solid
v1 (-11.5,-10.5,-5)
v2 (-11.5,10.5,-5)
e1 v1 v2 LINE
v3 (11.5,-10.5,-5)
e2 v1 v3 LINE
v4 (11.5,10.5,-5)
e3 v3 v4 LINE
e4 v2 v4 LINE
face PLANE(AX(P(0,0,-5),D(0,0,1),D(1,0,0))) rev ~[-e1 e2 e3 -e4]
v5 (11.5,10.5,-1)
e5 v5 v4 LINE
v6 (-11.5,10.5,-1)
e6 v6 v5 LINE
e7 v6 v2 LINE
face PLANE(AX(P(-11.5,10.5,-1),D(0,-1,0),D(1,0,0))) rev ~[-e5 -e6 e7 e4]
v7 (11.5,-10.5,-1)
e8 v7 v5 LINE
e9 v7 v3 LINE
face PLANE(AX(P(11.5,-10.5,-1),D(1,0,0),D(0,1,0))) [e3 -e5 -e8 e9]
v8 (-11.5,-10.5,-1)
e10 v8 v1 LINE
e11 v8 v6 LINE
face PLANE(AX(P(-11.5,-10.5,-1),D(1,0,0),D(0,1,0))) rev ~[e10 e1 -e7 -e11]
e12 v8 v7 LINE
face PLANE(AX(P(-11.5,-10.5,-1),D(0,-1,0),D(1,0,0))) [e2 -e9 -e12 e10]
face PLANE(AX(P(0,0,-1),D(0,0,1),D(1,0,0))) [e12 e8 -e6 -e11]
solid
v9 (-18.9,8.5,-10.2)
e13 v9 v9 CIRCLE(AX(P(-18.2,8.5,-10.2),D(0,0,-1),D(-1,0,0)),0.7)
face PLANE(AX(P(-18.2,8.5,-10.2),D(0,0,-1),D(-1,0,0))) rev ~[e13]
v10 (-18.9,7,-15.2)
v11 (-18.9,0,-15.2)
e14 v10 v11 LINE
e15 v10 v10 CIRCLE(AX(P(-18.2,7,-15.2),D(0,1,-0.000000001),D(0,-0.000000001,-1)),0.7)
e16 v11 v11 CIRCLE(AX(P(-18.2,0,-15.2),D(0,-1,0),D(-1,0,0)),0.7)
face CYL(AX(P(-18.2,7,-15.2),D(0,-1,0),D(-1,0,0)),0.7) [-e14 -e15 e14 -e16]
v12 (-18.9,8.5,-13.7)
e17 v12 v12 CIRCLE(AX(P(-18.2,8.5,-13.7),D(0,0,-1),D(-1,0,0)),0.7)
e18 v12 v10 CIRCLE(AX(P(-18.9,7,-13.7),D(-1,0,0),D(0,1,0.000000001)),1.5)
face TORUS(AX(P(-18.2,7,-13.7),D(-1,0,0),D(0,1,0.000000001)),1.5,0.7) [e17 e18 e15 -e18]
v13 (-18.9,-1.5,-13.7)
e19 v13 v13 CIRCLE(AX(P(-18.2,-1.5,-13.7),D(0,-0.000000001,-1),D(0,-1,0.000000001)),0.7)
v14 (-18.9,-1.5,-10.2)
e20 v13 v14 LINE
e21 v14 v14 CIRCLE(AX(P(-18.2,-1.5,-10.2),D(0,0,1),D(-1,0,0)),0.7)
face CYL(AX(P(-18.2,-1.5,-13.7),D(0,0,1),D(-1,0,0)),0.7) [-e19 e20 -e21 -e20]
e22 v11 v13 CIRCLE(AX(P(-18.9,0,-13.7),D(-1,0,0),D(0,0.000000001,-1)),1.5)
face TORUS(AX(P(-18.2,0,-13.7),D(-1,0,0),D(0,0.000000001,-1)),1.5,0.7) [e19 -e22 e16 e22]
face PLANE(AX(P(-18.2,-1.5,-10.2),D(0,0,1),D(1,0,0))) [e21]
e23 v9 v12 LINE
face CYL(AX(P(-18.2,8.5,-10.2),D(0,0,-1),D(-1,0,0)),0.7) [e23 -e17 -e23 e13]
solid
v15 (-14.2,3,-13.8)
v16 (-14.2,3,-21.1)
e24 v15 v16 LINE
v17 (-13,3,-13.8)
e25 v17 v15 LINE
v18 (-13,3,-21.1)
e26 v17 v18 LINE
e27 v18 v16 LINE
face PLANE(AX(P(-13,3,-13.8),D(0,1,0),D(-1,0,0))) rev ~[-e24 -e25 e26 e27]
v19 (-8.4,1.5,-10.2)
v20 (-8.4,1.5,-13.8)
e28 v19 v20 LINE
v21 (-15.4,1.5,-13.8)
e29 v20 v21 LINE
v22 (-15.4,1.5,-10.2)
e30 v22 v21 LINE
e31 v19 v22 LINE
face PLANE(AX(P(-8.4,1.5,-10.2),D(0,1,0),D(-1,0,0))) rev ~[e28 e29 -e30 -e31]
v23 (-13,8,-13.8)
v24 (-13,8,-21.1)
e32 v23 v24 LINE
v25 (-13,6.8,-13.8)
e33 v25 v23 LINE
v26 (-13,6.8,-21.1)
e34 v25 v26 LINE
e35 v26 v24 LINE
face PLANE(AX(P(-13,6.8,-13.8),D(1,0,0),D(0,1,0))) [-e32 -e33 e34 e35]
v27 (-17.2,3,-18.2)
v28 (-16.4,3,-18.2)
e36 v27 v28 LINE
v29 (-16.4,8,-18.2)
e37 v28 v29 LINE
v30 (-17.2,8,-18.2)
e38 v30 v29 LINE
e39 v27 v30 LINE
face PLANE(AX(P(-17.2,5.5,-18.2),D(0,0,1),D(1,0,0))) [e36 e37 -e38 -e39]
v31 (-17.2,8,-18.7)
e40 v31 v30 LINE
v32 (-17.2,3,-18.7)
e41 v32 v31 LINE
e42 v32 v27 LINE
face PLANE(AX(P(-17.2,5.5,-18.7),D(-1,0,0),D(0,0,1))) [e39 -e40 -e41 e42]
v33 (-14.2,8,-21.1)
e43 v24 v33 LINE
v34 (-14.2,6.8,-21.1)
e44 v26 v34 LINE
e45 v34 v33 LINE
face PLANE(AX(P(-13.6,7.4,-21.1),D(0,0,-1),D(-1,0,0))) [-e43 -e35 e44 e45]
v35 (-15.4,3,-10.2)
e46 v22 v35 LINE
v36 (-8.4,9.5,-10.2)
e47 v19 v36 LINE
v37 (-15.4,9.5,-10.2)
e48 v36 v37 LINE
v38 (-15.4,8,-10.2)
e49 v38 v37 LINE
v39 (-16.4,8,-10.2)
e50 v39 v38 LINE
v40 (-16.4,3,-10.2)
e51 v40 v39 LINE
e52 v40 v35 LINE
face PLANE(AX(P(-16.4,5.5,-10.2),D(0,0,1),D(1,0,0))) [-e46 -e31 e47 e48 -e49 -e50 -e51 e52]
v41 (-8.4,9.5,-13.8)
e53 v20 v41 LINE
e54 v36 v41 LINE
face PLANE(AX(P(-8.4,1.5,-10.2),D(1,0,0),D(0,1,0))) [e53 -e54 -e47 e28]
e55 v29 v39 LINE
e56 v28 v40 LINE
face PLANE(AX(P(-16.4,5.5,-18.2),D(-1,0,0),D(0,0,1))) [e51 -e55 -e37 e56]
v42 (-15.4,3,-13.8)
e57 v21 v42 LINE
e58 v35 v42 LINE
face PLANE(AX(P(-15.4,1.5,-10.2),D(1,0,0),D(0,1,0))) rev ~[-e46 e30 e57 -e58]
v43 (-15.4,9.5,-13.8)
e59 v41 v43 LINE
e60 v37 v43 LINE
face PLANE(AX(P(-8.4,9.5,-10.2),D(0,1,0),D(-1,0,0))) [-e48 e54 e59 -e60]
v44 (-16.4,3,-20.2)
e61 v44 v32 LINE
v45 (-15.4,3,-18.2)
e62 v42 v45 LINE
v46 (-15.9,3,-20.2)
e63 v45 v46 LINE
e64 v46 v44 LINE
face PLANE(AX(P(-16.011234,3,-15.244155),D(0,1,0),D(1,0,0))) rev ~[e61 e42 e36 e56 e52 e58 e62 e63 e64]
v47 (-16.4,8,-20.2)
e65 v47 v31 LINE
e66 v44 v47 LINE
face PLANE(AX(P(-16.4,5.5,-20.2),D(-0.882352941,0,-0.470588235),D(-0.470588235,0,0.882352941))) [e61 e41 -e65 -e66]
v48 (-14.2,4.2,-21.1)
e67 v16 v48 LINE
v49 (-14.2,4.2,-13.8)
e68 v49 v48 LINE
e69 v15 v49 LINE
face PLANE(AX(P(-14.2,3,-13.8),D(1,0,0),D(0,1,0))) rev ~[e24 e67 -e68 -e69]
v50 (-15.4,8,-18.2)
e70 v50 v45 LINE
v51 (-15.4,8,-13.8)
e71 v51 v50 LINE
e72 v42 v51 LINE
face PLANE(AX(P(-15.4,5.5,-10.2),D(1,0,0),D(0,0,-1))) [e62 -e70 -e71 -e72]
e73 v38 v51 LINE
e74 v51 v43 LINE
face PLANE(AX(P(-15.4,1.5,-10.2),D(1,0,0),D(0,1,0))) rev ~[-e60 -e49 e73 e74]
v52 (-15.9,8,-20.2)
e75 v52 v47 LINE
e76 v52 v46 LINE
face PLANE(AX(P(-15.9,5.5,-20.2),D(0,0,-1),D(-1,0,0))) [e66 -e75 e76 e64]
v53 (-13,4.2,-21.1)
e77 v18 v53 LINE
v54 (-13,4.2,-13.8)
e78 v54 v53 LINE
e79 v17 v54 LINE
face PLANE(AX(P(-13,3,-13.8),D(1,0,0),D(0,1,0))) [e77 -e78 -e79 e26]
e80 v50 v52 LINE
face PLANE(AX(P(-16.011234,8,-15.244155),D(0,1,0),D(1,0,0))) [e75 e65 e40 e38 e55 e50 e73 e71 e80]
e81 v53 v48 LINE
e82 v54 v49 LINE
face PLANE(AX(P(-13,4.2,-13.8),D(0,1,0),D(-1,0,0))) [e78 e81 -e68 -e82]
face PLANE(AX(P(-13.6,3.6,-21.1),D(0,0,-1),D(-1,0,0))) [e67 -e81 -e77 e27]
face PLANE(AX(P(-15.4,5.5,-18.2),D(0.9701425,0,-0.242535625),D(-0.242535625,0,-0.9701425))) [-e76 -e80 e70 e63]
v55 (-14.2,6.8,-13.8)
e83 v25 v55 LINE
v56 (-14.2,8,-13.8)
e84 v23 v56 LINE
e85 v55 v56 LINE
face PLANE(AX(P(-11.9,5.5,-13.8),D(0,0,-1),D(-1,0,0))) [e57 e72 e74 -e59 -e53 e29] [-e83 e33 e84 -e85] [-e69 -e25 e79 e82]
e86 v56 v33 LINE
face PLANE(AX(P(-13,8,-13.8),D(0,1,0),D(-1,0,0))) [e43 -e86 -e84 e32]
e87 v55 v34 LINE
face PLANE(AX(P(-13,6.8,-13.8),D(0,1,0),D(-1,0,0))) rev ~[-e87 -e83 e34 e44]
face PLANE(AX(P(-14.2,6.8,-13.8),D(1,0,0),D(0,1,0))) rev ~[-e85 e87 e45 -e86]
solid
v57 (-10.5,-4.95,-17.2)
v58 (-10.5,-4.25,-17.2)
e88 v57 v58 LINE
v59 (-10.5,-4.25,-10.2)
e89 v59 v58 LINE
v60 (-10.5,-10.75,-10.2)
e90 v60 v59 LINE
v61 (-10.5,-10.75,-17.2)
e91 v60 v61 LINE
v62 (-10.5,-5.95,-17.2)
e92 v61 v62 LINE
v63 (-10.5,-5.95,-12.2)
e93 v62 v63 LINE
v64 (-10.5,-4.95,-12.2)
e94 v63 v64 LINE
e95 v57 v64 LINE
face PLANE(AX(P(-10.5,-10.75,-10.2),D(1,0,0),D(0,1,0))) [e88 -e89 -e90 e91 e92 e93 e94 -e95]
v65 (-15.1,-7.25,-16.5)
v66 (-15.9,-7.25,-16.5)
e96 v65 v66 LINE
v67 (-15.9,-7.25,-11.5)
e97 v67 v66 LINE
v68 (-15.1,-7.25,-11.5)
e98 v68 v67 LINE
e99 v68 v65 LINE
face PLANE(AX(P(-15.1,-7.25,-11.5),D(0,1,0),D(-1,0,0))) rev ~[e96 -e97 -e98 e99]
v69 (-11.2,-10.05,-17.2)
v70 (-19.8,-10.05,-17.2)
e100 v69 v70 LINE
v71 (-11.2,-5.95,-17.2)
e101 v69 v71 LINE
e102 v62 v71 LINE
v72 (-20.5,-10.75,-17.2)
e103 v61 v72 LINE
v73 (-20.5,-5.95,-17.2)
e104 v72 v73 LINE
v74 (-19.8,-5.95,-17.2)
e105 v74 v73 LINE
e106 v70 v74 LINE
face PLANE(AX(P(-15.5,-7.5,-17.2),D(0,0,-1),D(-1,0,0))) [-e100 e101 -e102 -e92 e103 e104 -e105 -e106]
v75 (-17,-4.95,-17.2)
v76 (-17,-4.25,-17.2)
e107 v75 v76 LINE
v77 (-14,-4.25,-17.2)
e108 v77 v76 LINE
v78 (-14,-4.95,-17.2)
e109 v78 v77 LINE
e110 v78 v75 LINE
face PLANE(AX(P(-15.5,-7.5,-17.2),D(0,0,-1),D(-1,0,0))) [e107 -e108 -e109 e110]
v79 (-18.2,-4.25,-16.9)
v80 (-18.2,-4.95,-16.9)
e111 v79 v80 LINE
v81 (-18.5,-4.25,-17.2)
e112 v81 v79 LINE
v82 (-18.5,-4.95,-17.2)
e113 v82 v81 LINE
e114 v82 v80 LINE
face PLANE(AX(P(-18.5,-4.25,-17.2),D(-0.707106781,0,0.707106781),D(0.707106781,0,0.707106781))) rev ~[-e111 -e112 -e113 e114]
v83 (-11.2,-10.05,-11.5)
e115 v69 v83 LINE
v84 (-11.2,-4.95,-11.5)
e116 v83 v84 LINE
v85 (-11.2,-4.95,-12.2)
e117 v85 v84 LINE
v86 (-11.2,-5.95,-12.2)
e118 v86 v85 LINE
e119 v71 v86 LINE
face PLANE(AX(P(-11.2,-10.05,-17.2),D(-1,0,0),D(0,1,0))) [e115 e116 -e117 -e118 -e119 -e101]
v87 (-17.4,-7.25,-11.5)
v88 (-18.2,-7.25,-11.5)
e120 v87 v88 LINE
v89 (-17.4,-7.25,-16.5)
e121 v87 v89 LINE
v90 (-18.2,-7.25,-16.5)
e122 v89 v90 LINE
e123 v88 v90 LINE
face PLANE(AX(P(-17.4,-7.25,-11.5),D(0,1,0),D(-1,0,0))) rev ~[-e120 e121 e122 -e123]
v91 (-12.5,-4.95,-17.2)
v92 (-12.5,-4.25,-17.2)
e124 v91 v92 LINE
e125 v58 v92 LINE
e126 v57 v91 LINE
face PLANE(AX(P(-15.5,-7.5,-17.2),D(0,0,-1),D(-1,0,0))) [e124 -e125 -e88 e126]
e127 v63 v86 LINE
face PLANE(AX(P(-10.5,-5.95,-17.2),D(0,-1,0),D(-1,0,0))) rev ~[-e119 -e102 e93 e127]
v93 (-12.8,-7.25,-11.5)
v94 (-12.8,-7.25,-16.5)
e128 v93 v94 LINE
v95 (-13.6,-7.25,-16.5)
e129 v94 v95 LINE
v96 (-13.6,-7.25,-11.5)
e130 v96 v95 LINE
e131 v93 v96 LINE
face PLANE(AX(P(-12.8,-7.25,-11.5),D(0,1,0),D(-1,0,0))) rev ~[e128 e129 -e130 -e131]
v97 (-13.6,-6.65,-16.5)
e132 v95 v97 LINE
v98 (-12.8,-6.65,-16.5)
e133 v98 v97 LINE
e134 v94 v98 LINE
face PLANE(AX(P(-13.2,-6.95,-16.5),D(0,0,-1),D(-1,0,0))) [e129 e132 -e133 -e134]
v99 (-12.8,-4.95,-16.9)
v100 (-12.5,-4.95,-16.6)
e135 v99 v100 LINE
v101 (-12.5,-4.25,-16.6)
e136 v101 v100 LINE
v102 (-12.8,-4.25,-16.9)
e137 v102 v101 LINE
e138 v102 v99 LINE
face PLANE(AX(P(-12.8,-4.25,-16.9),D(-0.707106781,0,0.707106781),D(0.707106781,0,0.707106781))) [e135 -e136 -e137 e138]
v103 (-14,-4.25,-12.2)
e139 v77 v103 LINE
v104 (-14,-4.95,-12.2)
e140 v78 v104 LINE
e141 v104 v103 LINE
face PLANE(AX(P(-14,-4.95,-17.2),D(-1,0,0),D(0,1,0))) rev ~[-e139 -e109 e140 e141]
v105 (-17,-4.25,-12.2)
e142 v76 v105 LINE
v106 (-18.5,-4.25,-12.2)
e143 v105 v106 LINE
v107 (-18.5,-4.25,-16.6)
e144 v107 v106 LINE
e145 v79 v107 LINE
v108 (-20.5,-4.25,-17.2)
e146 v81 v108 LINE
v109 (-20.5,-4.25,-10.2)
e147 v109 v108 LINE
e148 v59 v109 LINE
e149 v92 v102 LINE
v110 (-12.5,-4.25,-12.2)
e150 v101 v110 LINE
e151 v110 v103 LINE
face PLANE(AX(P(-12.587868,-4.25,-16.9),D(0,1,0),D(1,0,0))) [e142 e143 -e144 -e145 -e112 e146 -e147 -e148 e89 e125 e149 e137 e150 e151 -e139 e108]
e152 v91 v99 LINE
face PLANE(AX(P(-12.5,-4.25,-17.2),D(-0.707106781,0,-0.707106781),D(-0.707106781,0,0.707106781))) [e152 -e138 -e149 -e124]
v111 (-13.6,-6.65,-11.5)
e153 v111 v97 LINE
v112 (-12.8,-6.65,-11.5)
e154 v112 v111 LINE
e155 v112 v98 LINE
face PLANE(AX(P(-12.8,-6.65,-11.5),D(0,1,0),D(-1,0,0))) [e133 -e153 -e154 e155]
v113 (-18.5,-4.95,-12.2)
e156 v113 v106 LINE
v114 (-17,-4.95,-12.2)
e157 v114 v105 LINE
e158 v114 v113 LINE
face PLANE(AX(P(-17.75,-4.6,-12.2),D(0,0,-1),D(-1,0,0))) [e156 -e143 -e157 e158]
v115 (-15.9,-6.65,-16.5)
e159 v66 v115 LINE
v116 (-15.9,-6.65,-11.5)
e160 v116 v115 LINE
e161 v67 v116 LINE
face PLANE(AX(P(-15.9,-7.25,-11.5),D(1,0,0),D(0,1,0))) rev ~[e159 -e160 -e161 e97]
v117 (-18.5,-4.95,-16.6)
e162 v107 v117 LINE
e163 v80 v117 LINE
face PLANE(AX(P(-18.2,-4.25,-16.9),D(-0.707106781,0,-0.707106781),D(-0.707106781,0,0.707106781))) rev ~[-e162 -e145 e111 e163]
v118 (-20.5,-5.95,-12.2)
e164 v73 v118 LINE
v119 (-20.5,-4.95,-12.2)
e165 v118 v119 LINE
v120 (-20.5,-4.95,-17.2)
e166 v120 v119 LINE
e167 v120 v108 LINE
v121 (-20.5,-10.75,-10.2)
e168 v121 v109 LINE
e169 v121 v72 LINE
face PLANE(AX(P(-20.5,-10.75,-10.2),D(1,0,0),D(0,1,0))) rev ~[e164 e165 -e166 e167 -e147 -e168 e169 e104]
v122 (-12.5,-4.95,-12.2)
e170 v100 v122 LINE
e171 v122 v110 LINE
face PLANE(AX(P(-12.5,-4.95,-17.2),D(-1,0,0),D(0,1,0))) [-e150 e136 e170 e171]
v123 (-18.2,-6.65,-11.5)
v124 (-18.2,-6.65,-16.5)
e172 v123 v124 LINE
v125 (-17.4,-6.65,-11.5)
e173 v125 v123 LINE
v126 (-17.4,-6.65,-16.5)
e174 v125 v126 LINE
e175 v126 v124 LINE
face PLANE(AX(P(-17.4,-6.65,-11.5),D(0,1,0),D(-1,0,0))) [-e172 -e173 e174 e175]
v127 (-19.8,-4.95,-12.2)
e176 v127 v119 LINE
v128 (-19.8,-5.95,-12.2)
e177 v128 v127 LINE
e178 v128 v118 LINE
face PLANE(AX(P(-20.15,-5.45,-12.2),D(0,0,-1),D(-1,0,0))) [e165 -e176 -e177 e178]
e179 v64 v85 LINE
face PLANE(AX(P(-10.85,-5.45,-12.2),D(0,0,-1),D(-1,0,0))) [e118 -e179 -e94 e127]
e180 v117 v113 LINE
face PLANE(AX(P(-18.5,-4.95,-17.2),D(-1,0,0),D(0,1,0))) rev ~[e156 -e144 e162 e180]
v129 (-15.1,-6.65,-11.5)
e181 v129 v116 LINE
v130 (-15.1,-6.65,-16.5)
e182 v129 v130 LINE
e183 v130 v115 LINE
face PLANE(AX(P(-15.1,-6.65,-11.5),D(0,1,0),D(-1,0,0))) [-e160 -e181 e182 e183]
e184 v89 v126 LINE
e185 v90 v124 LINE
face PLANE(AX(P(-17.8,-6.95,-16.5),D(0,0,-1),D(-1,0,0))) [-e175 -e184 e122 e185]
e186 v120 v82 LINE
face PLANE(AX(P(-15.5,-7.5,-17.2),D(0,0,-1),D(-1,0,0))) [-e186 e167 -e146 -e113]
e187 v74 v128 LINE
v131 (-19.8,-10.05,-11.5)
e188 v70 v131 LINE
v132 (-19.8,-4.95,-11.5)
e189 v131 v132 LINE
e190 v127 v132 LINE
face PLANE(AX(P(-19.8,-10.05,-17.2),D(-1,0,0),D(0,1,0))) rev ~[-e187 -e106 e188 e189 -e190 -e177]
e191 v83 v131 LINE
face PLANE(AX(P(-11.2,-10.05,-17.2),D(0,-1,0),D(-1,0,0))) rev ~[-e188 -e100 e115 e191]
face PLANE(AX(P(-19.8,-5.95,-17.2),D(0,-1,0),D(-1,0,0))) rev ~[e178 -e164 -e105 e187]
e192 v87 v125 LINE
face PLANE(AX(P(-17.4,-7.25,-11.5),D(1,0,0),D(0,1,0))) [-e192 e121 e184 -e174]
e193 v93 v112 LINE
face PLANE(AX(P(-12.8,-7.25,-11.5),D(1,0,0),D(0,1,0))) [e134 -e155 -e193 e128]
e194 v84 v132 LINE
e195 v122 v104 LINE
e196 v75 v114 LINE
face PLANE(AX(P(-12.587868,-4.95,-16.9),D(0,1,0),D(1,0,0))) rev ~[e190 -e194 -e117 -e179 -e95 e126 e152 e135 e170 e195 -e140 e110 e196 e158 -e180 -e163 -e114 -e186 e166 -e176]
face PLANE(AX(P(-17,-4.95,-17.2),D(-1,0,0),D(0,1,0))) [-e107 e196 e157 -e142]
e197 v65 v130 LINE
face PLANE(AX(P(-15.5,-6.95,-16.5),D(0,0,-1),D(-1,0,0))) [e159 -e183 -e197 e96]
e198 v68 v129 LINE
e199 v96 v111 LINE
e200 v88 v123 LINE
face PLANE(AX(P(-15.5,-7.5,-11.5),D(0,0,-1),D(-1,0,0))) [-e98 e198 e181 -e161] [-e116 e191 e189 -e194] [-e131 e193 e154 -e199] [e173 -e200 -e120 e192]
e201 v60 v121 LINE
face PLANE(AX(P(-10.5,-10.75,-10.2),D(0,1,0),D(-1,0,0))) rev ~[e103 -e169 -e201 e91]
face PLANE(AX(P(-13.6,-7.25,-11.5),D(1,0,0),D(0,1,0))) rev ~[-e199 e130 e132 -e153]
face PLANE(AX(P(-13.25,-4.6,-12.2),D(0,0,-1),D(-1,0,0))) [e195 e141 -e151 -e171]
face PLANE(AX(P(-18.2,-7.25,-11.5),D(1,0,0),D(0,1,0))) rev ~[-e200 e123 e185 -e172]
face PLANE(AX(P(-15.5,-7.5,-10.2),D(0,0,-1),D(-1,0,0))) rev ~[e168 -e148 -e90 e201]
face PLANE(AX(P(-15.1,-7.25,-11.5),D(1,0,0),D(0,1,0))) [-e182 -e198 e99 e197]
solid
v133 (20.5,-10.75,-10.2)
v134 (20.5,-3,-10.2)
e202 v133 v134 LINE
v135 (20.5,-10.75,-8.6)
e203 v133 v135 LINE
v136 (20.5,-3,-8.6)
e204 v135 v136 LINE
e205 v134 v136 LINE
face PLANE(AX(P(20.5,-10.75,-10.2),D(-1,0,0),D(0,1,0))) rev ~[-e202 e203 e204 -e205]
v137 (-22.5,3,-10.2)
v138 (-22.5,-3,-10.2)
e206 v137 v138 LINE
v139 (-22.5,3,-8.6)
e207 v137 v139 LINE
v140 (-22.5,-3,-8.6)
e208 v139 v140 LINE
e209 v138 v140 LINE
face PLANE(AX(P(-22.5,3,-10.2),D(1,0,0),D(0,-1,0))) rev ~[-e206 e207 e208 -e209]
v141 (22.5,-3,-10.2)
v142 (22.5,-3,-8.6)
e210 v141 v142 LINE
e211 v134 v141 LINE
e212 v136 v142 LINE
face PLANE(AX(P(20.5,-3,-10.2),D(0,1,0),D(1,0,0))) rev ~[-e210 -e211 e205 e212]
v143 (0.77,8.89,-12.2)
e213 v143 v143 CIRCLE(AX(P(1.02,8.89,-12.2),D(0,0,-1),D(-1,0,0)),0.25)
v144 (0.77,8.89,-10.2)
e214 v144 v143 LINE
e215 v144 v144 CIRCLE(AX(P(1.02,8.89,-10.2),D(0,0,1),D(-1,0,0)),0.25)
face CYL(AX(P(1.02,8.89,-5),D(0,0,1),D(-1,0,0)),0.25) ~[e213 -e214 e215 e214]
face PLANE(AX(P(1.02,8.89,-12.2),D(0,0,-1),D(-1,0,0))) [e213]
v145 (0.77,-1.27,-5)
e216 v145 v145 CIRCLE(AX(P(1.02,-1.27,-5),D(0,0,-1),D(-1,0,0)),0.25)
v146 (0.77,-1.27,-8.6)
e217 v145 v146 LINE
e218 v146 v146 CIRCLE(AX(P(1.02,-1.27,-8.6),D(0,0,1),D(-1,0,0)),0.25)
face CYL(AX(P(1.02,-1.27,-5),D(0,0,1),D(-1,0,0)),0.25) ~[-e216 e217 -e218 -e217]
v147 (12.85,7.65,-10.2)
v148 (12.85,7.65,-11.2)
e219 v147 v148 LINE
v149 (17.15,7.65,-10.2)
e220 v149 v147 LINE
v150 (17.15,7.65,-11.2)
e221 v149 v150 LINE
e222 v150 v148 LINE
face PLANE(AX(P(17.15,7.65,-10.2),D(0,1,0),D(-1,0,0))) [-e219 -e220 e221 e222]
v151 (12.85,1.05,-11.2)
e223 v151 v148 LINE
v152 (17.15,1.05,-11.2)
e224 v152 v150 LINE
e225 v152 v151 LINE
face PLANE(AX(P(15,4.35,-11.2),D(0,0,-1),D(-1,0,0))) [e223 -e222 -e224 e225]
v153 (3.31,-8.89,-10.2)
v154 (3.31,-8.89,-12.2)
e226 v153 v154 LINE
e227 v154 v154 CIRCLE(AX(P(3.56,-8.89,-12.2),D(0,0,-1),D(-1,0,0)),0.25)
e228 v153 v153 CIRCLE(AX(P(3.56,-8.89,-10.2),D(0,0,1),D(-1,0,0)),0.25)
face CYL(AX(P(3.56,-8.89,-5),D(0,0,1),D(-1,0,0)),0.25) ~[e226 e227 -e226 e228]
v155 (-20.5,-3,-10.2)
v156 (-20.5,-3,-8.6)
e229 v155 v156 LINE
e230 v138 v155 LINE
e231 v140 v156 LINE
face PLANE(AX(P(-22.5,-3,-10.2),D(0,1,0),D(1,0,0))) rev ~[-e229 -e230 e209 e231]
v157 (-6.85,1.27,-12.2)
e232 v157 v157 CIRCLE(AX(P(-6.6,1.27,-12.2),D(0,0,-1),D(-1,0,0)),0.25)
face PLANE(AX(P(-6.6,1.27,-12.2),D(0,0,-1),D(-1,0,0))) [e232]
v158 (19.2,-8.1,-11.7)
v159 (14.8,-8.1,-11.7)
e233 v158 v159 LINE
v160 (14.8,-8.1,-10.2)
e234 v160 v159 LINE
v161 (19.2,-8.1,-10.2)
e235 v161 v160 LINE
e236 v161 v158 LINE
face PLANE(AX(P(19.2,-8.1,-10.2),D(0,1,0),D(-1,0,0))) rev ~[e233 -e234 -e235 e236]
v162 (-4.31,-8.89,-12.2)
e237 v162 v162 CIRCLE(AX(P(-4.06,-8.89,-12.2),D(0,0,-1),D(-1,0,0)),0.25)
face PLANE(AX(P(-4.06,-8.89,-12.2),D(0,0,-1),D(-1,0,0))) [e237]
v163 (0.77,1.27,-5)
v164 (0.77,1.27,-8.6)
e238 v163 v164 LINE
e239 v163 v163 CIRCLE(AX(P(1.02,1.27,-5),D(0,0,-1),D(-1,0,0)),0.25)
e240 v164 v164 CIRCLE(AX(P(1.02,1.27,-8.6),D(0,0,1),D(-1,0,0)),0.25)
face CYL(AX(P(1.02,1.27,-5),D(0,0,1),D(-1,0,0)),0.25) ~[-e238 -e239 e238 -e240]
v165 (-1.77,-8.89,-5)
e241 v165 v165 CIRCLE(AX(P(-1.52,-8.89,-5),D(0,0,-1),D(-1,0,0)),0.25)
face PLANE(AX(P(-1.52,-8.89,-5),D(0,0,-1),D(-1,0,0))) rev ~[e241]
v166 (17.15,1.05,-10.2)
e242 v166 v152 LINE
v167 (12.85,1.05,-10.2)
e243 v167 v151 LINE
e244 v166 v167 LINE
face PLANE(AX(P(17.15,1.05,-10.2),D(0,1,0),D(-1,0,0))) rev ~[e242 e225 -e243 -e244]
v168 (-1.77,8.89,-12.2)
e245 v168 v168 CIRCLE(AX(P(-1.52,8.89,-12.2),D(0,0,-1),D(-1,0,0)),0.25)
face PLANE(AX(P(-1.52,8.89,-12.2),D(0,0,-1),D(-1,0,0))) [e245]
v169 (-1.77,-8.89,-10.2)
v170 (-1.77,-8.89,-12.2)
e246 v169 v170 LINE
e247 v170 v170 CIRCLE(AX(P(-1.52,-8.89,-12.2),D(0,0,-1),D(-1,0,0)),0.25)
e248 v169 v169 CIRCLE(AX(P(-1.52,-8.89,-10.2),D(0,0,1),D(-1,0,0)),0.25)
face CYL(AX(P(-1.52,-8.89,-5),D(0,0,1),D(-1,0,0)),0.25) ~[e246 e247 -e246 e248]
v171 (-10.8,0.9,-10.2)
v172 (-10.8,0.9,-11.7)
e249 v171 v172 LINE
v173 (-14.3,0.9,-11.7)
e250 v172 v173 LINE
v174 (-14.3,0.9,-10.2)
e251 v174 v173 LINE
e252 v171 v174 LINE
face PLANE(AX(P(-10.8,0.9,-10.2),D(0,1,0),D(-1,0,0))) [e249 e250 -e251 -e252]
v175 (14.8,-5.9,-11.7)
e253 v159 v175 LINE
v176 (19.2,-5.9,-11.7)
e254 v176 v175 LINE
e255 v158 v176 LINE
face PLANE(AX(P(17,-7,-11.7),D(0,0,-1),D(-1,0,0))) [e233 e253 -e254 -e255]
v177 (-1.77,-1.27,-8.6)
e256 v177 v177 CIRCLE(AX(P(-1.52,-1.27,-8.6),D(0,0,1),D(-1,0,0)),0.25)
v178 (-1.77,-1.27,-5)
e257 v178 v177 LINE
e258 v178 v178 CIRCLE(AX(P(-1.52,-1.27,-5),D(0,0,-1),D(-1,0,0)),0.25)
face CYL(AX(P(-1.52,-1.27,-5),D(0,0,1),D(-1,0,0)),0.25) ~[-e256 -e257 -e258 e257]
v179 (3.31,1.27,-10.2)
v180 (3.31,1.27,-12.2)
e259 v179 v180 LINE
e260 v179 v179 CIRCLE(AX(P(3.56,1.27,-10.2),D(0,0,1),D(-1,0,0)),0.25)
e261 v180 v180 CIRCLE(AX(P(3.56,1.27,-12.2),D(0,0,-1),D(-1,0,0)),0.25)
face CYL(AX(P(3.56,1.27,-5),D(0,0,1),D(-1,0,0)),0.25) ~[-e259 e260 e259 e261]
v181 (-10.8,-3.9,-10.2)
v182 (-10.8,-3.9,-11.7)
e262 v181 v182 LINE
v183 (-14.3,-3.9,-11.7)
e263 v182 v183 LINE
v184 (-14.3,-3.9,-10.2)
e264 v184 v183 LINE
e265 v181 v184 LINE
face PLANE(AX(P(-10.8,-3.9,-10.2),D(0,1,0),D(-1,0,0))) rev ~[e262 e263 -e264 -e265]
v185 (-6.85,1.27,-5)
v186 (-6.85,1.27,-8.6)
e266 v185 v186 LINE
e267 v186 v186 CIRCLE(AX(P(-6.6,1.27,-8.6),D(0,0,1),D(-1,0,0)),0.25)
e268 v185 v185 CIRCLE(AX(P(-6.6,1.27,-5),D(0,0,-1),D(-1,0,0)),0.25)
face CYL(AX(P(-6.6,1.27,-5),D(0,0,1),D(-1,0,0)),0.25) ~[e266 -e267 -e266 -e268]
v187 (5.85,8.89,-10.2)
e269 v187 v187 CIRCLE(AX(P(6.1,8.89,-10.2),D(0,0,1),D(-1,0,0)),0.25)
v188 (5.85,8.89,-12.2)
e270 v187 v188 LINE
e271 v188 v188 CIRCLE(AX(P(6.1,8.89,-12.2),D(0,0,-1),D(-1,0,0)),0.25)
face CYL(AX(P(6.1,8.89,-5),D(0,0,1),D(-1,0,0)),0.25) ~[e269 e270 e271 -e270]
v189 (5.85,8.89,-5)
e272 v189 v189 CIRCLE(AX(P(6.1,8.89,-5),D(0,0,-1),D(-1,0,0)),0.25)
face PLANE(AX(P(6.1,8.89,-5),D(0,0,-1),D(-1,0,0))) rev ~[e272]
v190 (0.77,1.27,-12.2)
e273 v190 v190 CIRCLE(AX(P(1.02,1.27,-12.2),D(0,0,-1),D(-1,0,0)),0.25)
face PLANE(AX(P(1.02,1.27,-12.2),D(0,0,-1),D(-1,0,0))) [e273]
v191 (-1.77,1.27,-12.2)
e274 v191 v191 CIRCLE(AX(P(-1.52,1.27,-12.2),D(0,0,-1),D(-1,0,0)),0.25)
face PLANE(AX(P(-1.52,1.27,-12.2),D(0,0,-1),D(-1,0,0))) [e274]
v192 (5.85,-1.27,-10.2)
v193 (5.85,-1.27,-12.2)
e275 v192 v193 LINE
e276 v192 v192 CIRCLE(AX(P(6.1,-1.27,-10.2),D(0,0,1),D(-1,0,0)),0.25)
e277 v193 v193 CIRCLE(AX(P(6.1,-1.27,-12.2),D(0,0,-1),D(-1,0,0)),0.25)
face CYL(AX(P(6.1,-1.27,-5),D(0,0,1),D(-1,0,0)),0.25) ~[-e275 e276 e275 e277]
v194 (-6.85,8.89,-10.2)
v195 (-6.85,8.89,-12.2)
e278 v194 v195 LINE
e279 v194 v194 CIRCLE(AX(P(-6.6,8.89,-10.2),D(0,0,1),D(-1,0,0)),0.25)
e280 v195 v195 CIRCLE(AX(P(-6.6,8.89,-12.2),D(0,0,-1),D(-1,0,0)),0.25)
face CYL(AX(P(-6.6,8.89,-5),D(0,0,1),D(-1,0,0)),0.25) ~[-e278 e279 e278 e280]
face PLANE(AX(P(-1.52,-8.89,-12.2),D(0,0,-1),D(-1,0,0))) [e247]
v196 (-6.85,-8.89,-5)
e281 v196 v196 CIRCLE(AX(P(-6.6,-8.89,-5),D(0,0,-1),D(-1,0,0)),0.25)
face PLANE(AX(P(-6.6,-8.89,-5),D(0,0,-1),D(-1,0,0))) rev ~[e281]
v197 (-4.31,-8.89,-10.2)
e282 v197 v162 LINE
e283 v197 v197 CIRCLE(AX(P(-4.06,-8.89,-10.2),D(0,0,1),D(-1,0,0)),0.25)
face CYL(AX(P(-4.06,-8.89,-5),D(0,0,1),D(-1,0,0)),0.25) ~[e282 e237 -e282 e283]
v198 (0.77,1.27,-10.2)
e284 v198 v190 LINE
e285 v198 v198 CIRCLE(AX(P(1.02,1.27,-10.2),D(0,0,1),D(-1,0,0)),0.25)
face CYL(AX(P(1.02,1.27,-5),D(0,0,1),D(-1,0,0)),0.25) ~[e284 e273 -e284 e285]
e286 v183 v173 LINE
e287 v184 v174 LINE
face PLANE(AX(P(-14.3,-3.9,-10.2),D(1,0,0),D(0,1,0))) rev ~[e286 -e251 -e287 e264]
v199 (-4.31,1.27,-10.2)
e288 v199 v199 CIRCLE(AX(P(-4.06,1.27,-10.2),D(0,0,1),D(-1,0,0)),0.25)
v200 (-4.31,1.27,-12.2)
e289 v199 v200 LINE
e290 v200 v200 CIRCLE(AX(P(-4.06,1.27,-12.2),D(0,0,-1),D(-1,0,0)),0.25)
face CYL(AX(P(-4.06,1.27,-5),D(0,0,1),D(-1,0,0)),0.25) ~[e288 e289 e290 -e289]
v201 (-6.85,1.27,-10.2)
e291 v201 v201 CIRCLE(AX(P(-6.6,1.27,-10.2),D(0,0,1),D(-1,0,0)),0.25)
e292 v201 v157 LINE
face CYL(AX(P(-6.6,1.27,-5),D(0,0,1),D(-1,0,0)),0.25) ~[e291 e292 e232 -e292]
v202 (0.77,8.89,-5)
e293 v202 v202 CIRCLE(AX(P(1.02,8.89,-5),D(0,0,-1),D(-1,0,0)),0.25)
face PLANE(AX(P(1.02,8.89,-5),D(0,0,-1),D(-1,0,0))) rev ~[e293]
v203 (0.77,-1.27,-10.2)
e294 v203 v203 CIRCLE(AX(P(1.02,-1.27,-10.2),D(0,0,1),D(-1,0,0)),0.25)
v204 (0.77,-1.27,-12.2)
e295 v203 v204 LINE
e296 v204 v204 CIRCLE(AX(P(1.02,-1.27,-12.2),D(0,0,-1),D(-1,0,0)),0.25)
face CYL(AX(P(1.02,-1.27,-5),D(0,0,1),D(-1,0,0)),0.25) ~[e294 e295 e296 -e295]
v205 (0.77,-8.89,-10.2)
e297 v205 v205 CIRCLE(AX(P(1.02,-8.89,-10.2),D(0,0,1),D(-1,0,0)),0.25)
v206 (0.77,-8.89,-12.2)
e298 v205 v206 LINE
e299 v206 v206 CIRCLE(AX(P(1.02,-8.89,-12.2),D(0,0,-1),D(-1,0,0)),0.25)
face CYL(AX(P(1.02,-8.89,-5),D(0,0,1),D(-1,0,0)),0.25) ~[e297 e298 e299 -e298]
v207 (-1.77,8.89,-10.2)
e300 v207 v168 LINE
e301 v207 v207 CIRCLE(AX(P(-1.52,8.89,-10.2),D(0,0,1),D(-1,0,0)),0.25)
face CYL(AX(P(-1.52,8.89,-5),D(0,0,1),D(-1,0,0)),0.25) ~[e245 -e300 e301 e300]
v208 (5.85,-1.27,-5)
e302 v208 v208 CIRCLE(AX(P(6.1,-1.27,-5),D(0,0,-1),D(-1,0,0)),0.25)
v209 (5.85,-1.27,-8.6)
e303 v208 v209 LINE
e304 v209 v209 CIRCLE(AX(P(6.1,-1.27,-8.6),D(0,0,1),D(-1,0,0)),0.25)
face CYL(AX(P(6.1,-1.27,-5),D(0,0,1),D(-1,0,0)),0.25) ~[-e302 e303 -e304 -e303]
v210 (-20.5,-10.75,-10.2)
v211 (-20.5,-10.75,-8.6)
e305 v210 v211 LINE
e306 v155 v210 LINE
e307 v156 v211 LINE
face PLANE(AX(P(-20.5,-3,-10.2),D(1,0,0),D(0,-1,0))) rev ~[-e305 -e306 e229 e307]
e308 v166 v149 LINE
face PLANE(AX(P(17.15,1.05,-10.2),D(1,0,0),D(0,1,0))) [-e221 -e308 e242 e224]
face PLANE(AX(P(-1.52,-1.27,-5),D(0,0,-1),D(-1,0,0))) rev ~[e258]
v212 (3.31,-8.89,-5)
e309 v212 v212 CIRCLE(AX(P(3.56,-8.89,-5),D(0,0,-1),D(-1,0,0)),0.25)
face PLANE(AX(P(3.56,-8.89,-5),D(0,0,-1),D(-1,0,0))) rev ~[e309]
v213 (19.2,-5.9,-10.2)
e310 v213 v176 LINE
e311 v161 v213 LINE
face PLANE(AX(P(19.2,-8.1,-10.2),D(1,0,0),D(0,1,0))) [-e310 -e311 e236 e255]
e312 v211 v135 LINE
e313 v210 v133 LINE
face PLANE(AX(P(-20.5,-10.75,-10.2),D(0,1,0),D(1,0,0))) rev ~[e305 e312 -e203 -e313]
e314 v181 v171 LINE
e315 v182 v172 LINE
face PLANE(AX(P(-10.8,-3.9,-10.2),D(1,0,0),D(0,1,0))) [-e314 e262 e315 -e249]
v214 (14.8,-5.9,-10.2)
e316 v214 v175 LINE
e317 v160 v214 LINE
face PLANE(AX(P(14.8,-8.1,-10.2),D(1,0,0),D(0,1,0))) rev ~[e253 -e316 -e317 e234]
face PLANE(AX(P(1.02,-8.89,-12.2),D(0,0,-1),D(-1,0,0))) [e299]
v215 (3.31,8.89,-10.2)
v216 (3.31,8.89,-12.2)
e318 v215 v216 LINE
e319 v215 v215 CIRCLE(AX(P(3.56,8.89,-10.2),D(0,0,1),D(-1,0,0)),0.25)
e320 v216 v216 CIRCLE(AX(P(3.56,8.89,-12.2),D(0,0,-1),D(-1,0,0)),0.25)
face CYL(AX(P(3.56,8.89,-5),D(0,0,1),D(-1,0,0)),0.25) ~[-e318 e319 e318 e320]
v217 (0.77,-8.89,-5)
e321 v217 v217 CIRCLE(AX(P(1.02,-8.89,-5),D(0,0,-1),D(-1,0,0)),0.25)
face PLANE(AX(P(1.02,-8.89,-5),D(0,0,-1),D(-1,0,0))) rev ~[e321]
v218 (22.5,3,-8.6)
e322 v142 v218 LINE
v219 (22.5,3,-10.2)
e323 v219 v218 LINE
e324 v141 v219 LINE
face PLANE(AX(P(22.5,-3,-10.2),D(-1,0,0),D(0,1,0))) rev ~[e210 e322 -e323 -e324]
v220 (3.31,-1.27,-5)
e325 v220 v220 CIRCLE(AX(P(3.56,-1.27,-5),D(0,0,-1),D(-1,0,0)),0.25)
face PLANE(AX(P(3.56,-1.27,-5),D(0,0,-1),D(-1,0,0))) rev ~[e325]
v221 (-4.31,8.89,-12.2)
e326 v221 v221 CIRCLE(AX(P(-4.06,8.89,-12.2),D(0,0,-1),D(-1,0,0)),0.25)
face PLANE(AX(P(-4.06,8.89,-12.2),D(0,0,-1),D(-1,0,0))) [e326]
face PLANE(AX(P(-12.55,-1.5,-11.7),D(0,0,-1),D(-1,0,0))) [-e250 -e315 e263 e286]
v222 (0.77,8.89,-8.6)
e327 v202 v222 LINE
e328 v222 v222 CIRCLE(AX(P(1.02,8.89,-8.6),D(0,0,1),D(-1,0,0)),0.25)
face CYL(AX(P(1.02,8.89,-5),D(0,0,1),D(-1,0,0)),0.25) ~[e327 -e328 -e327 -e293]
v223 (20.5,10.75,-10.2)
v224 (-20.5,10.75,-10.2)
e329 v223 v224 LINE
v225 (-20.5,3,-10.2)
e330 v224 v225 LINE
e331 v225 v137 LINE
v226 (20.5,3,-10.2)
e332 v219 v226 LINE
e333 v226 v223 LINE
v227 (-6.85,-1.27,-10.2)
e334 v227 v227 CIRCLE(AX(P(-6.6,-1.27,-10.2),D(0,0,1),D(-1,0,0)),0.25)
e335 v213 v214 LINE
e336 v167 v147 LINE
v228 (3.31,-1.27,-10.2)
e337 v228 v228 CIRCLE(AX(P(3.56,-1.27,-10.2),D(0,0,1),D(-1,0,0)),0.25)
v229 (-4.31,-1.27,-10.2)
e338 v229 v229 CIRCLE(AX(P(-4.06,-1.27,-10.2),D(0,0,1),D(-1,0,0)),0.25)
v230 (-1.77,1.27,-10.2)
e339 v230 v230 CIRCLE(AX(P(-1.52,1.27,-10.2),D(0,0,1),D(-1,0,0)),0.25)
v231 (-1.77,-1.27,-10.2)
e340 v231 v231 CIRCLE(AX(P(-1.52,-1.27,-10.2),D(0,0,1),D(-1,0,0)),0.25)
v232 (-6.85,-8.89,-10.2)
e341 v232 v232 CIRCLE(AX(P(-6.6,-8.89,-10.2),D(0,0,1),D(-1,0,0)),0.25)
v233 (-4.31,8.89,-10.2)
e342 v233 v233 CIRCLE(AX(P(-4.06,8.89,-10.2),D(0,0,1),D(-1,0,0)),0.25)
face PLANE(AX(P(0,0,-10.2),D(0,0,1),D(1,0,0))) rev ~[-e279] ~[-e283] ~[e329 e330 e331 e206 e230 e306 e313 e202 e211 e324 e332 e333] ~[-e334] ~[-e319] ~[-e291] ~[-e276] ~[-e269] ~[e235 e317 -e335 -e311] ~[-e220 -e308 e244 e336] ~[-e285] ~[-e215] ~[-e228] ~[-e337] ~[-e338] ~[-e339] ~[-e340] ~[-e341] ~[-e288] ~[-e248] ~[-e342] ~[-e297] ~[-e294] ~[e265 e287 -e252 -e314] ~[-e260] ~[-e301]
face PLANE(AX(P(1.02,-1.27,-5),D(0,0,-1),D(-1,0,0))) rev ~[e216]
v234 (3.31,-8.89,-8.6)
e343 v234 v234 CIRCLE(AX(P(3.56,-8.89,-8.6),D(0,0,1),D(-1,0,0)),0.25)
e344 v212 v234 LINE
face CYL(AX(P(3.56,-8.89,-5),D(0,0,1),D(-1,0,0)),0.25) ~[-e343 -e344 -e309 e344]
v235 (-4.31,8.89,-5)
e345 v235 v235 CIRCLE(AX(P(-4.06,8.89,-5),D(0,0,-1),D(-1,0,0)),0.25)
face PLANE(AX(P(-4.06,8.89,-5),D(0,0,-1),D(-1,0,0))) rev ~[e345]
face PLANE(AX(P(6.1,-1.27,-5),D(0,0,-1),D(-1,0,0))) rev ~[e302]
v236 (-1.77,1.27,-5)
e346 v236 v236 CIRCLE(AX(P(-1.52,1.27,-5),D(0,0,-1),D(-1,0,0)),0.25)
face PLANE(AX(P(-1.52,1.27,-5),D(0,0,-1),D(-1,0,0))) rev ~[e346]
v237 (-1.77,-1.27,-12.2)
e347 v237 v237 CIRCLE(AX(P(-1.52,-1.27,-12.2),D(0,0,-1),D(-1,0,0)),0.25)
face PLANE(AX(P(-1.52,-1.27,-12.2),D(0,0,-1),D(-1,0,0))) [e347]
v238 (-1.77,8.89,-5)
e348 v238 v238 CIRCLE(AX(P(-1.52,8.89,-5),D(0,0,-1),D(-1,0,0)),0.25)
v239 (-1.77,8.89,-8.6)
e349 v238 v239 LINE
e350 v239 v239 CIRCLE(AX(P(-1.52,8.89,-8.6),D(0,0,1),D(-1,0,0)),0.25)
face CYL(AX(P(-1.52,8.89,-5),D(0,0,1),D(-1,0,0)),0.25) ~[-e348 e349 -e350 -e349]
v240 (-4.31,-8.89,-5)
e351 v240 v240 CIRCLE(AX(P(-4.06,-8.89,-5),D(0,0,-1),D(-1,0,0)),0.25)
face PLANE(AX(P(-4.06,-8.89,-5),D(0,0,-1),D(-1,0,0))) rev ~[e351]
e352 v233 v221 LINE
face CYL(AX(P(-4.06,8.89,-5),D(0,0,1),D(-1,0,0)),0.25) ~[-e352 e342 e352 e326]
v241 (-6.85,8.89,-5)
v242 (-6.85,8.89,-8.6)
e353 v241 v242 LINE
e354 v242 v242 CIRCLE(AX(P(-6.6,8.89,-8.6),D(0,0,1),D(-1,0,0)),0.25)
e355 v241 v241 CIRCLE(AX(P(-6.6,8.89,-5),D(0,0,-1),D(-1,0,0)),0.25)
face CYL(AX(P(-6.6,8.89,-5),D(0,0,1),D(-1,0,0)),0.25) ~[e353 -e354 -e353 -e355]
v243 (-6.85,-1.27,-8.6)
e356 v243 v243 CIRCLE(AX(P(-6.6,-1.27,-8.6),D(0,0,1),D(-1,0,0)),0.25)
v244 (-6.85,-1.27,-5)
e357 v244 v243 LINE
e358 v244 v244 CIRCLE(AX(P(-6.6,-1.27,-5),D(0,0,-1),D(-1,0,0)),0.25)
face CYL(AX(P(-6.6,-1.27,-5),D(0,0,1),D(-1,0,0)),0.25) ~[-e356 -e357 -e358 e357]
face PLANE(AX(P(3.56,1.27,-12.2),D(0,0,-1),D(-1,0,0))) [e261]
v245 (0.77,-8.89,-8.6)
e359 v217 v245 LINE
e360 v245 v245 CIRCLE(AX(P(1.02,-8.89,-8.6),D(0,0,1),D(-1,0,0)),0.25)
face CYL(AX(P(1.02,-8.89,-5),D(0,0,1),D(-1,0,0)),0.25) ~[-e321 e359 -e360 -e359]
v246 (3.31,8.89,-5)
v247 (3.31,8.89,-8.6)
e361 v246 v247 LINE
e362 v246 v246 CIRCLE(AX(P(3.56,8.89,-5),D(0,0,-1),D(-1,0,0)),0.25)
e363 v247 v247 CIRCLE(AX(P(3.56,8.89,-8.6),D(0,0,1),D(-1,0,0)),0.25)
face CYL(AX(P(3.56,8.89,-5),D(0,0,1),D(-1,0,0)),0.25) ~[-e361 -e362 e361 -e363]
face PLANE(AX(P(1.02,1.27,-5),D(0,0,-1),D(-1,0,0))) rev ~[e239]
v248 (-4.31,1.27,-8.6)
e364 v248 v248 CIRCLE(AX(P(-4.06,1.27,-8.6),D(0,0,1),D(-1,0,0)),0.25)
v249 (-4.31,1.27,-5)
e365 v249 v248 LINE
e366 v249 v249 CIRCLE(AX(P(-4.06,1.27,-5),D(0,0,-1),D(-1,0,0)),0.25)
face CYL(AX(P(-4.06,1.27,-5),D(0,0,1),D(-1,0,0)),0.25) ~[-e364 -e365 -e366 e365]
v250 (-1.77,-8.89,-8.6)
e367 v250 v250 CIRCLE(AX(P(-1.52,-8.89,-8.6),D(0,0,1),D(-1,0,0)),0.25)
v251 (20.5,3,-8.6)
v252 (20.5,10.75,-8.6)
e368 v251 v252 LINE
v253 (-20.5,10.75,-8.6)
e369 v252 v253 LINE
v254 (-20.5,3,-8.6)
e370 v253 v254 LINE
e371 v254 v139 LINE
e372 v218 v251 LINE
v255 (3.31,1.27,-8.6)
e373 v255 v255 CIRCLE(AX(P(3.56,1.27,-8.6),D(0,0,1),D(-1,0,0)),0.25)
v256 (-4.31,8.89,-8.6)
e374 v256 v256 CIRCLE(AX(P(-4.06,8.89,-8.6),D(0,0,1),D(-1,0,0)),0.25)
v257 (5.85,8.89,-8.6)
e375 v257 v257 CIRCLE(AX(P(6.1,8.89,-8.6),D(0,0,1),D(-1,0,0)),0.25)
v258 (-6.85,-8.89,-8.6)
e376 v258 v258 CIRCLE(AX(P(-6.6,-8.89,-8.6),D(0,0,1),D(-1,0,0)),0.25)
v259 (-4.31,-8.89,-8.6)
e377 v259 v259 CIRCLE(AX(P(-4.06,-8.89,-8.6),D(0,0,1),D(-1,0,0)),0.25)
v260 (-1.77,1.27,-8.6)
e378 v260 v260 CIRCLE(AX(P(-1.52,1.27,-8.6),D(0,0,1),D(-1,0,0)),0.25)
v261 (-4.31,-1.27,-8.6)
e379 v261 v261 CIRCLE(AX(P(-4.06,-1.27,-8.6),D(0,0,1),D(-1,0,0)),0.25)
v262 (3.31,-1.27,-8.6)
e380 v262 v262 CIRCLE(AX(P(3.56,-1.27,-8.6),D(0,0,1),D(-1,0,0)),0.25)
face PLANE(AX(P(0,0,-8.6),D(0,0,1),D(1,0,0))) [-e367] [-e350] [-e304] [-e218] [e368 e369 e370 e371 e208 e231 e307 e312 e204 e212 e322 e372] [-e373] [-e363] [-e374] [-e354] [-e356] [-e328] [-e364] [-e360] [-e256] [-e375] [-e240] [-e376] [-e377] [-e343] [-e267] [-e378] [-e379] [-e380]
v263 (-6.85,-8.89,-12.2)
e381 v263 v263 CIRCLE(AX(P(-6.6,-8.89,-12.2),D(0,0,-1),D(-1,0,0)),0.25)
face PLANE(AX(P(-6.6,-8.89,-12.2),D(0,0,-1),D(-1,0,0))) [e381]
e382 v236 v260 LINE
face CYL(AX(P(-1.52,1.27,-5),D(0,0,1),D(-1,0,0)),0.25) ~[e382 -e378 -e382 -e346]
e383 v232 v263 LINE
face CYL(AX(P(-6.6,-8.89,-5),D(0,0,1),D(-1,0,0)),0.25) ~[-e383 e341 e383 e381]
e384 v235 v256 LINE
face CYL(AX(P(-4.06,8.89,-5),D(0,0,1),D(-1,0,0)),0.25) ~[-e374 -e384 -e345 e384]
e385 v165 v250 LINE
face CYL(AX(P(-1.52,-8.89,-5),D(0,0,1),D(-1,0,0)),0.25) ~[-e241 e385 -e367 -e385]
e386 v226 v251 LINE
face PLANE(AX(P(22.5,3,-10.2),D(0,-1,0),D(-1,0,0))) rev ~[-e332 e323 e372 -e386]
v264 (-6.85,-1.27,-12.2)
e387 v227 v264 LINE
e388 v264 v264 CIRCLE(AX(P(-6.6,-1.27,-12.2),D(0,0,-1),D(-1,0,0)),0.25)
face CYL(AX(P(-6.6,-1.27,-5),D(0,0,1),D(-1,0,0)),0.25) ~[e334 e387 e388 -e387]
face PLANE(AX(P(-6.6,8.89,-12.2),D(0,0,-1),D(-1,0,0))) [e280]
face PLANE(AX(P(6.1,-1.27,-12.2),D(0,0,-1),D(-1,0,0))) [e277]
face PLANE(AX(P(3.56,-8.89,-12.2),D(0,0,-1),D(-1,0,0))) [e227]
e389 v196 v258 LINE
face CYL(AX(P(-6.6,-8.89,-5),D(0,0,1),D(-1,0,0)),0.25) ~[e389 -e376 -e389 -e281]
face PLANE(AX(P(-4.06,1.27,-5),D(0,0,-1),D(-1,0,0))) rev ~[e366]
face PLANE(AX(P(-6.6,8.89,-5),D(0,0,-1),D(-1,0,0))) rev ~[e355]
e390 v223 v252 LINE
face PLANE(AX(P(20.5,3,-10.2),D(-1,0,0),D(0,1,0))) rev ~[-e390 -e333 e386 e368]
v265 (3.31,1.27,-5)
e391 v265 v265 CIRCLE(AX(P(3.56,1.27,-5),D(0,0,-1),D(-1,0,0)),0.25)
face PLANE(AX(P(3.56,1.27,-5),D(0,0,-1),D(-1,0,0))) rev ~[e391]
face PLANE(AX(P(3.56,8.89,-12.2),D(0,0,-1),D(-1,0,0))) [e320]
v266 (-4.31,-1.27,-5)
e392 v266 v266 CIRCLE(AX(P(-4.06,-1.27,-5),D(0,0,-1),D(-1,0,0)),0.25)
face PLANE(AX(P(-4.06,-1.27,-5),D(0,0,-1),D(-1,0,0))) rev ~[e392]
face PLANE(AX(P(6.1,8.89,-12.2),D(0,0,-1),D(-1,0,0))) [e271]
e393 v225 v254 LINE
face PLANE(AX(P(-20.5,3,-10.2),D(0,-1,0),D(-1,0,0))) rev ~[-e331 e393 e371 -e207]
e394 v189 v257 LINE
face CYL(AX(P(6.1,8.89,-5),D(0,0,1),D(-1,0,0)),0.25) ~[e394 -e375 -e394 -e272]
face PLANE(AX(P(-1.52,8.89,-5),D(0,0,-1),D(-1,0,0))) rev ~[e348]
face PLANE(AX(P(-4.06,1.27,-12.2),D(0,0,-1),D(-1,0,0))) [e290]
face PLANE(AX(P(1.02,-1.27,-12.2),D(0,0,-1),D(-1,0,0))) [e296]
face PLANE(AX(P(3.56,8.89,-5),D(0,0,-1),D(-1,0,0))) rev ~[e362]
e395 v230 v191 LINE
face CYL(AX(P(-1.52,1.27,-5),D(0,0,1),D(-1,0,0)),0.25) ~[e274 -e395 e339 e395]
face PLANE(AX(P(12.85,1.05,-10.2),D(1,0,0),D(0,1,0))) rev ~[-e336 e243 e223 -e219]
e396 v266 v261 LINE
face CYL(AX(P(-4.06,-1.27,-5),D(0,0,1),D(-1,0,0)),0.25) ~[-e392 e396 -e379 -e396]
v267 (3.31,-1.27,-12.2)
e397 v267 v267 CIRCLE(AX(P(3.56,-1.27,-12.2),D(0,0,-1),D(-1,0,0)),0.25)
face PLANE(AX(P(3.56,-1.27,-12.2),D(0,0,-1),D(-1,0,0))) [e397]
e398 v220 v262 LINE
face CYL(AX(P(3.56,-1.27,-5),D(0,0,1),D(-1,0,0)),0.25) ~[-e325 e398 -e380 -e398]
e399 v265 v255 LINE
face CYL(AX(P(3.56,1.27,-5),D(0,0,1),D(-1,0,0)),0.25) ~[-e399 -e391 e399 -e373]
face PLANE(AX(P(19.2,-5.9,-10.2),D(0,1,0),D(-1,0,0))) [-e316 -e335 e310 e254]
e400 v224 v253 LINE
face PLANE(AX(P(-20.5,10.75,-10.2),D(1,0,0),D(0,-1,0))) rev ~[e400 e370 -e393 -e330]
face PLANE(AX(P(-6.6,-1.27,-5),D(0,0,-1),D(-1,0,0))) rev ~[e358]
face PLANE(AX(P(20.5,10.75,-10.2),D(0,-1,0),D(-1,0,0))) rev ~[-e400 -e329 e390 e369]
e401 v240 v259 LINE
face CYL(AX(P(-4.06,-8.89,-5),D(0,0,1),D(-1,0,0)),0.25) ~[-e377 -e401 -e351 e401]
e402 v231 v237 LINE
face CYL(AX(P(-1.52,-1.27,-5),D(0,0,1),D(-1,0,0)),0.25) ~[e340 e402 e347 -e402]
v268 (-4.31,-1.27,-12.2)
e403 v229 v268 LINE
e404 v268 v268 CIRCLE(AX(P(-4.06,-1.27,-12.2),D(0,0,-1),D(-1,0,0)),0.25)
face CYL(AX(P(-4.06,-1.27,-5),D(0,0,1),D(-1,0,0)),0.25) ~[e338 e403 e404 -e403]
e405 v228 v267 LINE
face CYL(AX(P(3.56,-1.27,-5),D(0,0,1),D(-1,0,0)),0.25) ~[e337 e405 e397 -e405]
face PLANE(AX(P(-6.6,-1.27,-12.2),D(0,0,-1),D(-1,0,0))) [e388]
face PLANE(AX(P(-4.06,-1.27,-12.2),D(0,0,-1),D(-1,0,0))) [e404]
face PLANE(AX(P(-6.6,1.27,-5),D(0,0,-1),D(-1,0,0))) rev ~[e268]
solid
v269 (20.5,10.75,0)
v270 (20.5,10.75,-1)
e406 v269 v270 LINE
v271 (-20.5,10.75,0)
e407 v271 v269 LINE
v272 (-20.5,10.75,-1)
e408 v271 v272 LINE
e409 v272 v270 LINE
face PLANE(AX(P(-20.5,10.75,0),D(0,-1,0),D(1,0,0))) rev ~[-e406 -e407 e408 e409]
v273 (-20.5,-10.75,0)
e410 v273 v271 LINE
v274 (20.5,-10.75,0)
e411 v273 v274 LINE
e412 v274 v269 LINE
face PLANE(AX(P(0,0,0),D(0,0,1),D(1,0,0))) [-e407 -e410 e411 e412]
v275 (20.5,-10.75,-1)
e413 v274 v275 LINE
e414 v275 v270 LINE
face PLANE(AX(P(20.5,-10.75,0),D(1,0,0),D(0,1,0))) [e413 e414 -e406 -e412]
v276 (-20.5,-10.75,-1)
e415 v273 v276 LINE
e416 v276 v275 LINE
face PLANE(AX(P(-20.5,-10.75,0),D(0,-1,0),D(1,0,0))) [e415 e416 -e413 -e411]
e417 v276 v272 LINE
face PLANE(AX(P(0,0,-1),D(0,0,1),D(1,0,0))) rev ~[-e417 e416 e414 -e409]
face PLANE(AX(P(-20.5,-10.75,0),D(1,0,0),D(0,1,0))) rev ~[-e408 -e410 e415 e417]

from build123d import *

# Parameters (mm, degrees)
BOSS_EXTRU_1_DEPTH              = 1.6
BOSS_EXTRU_2_START              = -1
ESQUISSE2_W                     = 23
ESQUISSE2_H                     = 21
BOSS_EXTRU_2_DEPTH              = 4
ESQUISSE4_W                     = 41
ESQUISSE4_H                     = 21.5
BOSS_EXTRU_3_DEPTH              = 1
ESQUISSE8_W                     = 7
ESQUISSE8_H                     = 8
BOSS_EXTRU_4_DEPTH              = 3.6
ESQUISSE9_W                     = 1.2
ESQUISSE9_H                     = 1.2
BOSS_EXTRU_5_DEPTH              = 7.3
BOSS_EXTRU_6_DEPTH              = 2.5
ESQUISSE11_W                    = 10
ESQUISSE11_H                    = 6.5
BOSS_EXTRU_7_DEPTH              = 7
ESQUISSE12_W                    = 8.6
ESQUISSE12_H                    = 5.1
ENL_V_MAT_EXTRU_1_DEPTH         = 5.7
ESQUISSE13_W                    = 1.5
ESQUISSE13_H                    = 0.7
ESQUISSE13_W_2                  = 0.7
ESQUISSE13_H_2                  = 1
ENL_V_MAT_EXTRU_2_DEPTH         = 5
ESQUISSE14_W                    = 0.8
ESQUISSE14_H                    = 0.6
BOSS_EXTRU_8_DEPTH              = 5
ESQUISSE15_R                    = 0.7
ESQUISSE17_W                    = 4.3
ESQUISSE17_H                    = 6.6
BOSS_EXTRU_9_DEPTH              = 1
ESQUISSE18_W                    = 4.4
ESQUISSE18_H                    = 2.2
BOSS_EXTRU_10_DEPTH             = 1.5
ESQUISSE19_W                    = 3.5
ESQUISSE19_H                    = 4.8
BOSS_EXTRU_11_DEPTH             = 1.5
BOSS_EXTRU_12_DEPTH             = 0.7
BOSS_EXTRU_13_START             = -5.2
ESQUISSE21_R                    = 0.25
BOSS_EXTRU_13_DEPTH             = 7.2
R_P_TITION_LIN_AIRE2_COUNT      = 6
R_P_TITION_LIN_AIRE2_PITCH      = 2.54
R_P_TITION_LIN_AIRE2_COUNT_DIR2 = 2
R_P_TITION_LIN_AIRE2_PITCH_DIR2 = 7.62
BOSS_EXTRU_14_START             = -5.2
ESQUISSE22_R                    = 0.25
BOSS_EXTRU_14_DEPTH             = 7.2
R_P_TITION_LIN_AIRE3_COUNT      = 6
R_P_TITION_LIN_AIRE3_PITCH      = 2.54
R_P_TITION_LIN_AIRE3_COUNT_DIR2 = 2
R_P_TITION_LIN_AIRE3_PITCH_DIR2 = 7.62


with BuildPart() as part:
    # Esquisse1 → Boss.-Extru.1 (new body)
    with BuildSketch(Plane.XY.offset(-10.2)):
        Polygon((-20.5, -3), (-20.5, -10.75), (20.5, -10.75), (20.5, -3), (22.5, -3), (22.5, 3), (20.5, 3), (20.5, 10.75), (-20.5, 10.75), (-20.5, 3), (-22.5, 3), (-22.5, -3), align=None)
    extrude(amount=BOSS_EXTRU_1_DEPTH)

    # Esquisse17 → Boss.-Extru.9 (add)
    with BuildSketch(Plane(origin=(0, 0, -10.2), x_dir=(-1, 0, 0), z_dir=(0, 0, -1))):
        with Locations((-15, 4.35)):
            Rectangle(ESQUISSE17_W, ESQUISSE17_H)
    extrude(amount=BOSS_EXTRU_9_DEPTH)

    # Esquisse18 → Boss.-Extru.10 (add)
    with BuildSketch(Plane(origin=(0, 0, -10.2), x_dir=(-1, 0, 0), z_dir=(0, 0, -1))):
        with Locations((-17, -7)):
            Rectangle(ESQUISSE18_W, ESQUISSE18_H)
    extrude(amount=BOSS_EXTRU_10_DEPTH)

    # Esquisse19 → Boss.-Extru.11 (add)
    with BuildSketch(Plane(origin=(0, 0, -10.2), x_dir=(-1, 0, 0), z_dir=(0, 0, -1))):
        with Locations((12.55, -1.5)):
            Rectangle(ESQUISSE19_W, ESQUISSE19_H)
    extrude(amount=BOSS_EXTRU_11_DEPTH)

    # Esquisse21 → Boss.-Extru.13 (add)
    with BuildSketch(Plane(origin=(0, 0, -10.2), x_dir=(-1, 0, 0), z_dir=(0, 0, -1)).offset(BOSS_EXTRU_13_START)):
        with Locations((6.6, 8.89)):
            Circle(ESQUISSE21_R)
    boss_extru_13 = extrude(amount=BOSS_EXTRU_13_DEPTH)

    # Répétition linéaire2: Boss.-Extru.13 6 × 2, 1 skipped
    with Locations(*[(i * R_P_TITION_LIN_AIRE2_PITCH, -j * R_P_TITION_LIN_AIRE2_PITCH_DIR2, 0) for i in range(R_P_TITION_LIN_AIRE2_COUNT) for j in range(R_P_TITION_LIN_AIRE2_COUNT_DIR2) if (i, j) not in ((0, 0), (5, 1))]):
        add(boss_extru_13)

    # Esquisse22 → Boss.-Extru.14 (add)
    with BuildSketch(Plane(origin=(0, 0, -10.2), x_dir=(-1, 0, 0), z_dir=(0, 0, -1)).offset(BOSS_EXTRU_14_START)):
        with Locations((6.6, -1.27)):
            Circle(ESQUISSE22_R)
    boss_extru_14 = extrude(amount=BOSS_EXTRU_14_DEPTH)

    # Répétition linéaire3: Boss.-Extru.14 6 × 2, 1 skipped
    with Locations(*[(i * R_P_TITION_LIN_AIRE3_PITCH, -j * R_P_TITION_LIN_AIRE3_PITCH_DIR2, 0) for i in range(R_P_TITION_LIN_AIRE3_COUNT) for j in range(R_P_TITION_LIN_AIRE3_COUNT_DIR2) if (i, j) not in ((0, 0), (5, 1))]):
        add(boss_extru_14)


with BuildPart() as body_2:
    # Esquisse2 → Boss.-Extru.2 (new body)
    with BuildSketch(Plane.XY.offset(BOSS_EXTRU_2_START)):
        Rectangle(ESQUISSE2_W, ESQUISSE2_H)
    extrude(amount=-BOSS_EXTRU_2_DEPTH)


with BuildPart() as body_3:
    # Esquisse4 → Boss.-Extru.3 (new body)
    with BuildSketch(Plane.XY):
        Rectangle(ESQUISSE4_W, ESQUISSE4_H)
    extrude(amount=-BOSS_EXTRU_3_DEPTH)


with BuildPart() as body_4:
    # Esquisse8 → Boss.-Extru.4 (new body)
    with BuildSketch(Plane(origin=(0, 0, -10.2), x_dir=(-1, 0, 0), z_dir=(0, 0, -1))):
        with Locations((11.9, 5.5)):
            Rectangle(ESQUISSE8_W, ESQUISSE8_H)
    extrude(amount=BOSS_EXTRU_4_DEPTH)

    # Esquisse9 → Boss.-Extru.5 (add)
    with BuildSketch(Plane(origin=(0, 0, -13.8), x_dir=(-1, 0, 0), z_dir=(0, 0, -1))):
        with Locations((13.6, 3.6)):
            Rectangle(ESQUISSE9_W, ESQUISSE9_H)
        with Locations((13.6, 7.4)):
            Rectangle(ESQUISSE9_W, ESQUISSE9_H)
    extrude(amount=BOSS_EXTRU_5_DEPTH)

    # Esquisse10 → Boss.-Extru.6 (add, symmetric)
    with BuildSketch(Plane(origin=(0, 5.5, 0), x_dir=(1, 0, 0), z_dir=(0, 1, 0))):
        Polygon((-15.9, 20.2), (-16.4, 20.2), (-17.2, 18.7), (-17.2, 18.2), (-16.4, 18.2), (-16.4, 10.2), (-15.4, 10.2), (-15.4, 18.2), align=None)
    extrude(amount=BOSS_EXTRU_6_DEPTH, both=True)


with BuildPart() as body_5:
    # Esquisse11 → Boss.-Extru.7 (new body)
    with BuildSketch(Plane(origin=(0, 0, -10.2), x_dir=(-1, 0, 0), z_dir=(0, 0, -1))):
        with Locations((15.5, -7.5)):
            Rectangle(ESQUISSE11_W, ESQUISSE11_H)
    extrude(amount=BOSS_EXTRU_7_DEPTH)

    # Esquisse12 → Enlèv. mat.-Extru.1 (cut)
    with BuildSketch(Plane(origin=(0, 0, -17.2), x_dir=(-1, 0, 0), z_dir=(0, 0, -1))):
        with Locations((15.5, -7.5)):
            Rectangle(ESQUISSE12_W, ESQUISSE12_H)
    extrude(amount=-ENL_V_MAT_EXTRU_1_DEPTH, mode=Mode.SUBTRACT)

    # Esquisse13 → Enlèv. mat.-Extru.2 (cut)
    with BuildSketch(Plane(origin=(0, 0, -17.2), x_dir=(-1, 0, 0), z_dir=(0, 0, -1))):
        with Locations((13.25, -4.6)):
            Rectangle(ESQUISSE13_W, ESQUISSE13_H)
        with Locations((10.85, -5.45)):
            Rectangle(ESQUISSE13_W_2, ESQUISSE13_H_2)
        with Locations((20.15, -5.45)):
            Rectangle(ESQUISSE13_W_2, ESQUISSE13_H_2)
        with Locations((17.75, -4.6)):
            Rectangle(ESQUISSE13_W, ESQUISSE13_H)
    extrude(amount=-ENL_V_MAT_EXTRU_2_DEPTH, mode=Mode.SUBTRACT)

    # Esquisse14 → Boss.-Extru.8 (add)
    with BuildSketch(Plane(origin=(0, 0, -11.5), x_dir=(-1, 0, 0), z_dir=(0, 0, -1))):
        with Locations((13.2, -6.95)):
            Rectangle(ESQUISSE14_W, ESQUISSE14_H)
        with Locations((15.5, -6.95)):
            Rectangle(ESQUISSE14_W, ESQUISSE14_H)
        with Locations((17.8, -6.95)):
            Rectangle(ESQUISSE14_W, ESQUISSE14_H)
    extrude(amount=BOSS_EXTRU_8_DEPTH)

    # Esquisse20 → Boss.-Extru.12 (add)
    with BuildSketch(Plane(origin=(0, -4.25, 0), x_dir=(1, 0, 0), z_dir=(0, 1, 0))):
        Polygon((-12.5, 17.2), (-12.8, 16.9), (-12.5, 16.6), align=None)
        Polygon((-18.5, 16.6), (-18.5, 17.2), (-18.2, 16.9), align=None)
    extrude(amount=-BOSS_EXTRU_12_DEPTH)


with BuildPart() as body_6:
    # Balayage1: sweep along a path in Esquisse16
    with BuildLine(Plane(origin=(-18.2, 0, 0), x_dir=(0, -1, 0), z_dir=(-1, 0, 0))) as balayage1_path:
        Line((-8.5, -10.2), (-8.5, -13.7))
        ThreePointArc((-8.5, -13.7), (-8.060660172, -14.760660172), (-7, -15.2))
        Line((-7, -15.2), (0, -15.2))
        ThreePointArc((0, -15.2), (1.060660172, -14.760660172), (1.5, -13.7))
        Line((1.5, -13.7), (1.5, -10.2))
    # Esquisse15 → Balayage1 (sweep)
    with BuildSketch(Plane(origin=(0, 0, -10.2), x_dir=(-1, 0, 0), z_dir=(0, 0, -1))):
        with Locations((18.2, 8.5)):
            Circle(ESQUISSE15_R)
    sweep(path=balayage1_path.line)


solid = Compound([part.part, body_2.part, body_3.part, body_4.part, body_5.part, body_6.part])
